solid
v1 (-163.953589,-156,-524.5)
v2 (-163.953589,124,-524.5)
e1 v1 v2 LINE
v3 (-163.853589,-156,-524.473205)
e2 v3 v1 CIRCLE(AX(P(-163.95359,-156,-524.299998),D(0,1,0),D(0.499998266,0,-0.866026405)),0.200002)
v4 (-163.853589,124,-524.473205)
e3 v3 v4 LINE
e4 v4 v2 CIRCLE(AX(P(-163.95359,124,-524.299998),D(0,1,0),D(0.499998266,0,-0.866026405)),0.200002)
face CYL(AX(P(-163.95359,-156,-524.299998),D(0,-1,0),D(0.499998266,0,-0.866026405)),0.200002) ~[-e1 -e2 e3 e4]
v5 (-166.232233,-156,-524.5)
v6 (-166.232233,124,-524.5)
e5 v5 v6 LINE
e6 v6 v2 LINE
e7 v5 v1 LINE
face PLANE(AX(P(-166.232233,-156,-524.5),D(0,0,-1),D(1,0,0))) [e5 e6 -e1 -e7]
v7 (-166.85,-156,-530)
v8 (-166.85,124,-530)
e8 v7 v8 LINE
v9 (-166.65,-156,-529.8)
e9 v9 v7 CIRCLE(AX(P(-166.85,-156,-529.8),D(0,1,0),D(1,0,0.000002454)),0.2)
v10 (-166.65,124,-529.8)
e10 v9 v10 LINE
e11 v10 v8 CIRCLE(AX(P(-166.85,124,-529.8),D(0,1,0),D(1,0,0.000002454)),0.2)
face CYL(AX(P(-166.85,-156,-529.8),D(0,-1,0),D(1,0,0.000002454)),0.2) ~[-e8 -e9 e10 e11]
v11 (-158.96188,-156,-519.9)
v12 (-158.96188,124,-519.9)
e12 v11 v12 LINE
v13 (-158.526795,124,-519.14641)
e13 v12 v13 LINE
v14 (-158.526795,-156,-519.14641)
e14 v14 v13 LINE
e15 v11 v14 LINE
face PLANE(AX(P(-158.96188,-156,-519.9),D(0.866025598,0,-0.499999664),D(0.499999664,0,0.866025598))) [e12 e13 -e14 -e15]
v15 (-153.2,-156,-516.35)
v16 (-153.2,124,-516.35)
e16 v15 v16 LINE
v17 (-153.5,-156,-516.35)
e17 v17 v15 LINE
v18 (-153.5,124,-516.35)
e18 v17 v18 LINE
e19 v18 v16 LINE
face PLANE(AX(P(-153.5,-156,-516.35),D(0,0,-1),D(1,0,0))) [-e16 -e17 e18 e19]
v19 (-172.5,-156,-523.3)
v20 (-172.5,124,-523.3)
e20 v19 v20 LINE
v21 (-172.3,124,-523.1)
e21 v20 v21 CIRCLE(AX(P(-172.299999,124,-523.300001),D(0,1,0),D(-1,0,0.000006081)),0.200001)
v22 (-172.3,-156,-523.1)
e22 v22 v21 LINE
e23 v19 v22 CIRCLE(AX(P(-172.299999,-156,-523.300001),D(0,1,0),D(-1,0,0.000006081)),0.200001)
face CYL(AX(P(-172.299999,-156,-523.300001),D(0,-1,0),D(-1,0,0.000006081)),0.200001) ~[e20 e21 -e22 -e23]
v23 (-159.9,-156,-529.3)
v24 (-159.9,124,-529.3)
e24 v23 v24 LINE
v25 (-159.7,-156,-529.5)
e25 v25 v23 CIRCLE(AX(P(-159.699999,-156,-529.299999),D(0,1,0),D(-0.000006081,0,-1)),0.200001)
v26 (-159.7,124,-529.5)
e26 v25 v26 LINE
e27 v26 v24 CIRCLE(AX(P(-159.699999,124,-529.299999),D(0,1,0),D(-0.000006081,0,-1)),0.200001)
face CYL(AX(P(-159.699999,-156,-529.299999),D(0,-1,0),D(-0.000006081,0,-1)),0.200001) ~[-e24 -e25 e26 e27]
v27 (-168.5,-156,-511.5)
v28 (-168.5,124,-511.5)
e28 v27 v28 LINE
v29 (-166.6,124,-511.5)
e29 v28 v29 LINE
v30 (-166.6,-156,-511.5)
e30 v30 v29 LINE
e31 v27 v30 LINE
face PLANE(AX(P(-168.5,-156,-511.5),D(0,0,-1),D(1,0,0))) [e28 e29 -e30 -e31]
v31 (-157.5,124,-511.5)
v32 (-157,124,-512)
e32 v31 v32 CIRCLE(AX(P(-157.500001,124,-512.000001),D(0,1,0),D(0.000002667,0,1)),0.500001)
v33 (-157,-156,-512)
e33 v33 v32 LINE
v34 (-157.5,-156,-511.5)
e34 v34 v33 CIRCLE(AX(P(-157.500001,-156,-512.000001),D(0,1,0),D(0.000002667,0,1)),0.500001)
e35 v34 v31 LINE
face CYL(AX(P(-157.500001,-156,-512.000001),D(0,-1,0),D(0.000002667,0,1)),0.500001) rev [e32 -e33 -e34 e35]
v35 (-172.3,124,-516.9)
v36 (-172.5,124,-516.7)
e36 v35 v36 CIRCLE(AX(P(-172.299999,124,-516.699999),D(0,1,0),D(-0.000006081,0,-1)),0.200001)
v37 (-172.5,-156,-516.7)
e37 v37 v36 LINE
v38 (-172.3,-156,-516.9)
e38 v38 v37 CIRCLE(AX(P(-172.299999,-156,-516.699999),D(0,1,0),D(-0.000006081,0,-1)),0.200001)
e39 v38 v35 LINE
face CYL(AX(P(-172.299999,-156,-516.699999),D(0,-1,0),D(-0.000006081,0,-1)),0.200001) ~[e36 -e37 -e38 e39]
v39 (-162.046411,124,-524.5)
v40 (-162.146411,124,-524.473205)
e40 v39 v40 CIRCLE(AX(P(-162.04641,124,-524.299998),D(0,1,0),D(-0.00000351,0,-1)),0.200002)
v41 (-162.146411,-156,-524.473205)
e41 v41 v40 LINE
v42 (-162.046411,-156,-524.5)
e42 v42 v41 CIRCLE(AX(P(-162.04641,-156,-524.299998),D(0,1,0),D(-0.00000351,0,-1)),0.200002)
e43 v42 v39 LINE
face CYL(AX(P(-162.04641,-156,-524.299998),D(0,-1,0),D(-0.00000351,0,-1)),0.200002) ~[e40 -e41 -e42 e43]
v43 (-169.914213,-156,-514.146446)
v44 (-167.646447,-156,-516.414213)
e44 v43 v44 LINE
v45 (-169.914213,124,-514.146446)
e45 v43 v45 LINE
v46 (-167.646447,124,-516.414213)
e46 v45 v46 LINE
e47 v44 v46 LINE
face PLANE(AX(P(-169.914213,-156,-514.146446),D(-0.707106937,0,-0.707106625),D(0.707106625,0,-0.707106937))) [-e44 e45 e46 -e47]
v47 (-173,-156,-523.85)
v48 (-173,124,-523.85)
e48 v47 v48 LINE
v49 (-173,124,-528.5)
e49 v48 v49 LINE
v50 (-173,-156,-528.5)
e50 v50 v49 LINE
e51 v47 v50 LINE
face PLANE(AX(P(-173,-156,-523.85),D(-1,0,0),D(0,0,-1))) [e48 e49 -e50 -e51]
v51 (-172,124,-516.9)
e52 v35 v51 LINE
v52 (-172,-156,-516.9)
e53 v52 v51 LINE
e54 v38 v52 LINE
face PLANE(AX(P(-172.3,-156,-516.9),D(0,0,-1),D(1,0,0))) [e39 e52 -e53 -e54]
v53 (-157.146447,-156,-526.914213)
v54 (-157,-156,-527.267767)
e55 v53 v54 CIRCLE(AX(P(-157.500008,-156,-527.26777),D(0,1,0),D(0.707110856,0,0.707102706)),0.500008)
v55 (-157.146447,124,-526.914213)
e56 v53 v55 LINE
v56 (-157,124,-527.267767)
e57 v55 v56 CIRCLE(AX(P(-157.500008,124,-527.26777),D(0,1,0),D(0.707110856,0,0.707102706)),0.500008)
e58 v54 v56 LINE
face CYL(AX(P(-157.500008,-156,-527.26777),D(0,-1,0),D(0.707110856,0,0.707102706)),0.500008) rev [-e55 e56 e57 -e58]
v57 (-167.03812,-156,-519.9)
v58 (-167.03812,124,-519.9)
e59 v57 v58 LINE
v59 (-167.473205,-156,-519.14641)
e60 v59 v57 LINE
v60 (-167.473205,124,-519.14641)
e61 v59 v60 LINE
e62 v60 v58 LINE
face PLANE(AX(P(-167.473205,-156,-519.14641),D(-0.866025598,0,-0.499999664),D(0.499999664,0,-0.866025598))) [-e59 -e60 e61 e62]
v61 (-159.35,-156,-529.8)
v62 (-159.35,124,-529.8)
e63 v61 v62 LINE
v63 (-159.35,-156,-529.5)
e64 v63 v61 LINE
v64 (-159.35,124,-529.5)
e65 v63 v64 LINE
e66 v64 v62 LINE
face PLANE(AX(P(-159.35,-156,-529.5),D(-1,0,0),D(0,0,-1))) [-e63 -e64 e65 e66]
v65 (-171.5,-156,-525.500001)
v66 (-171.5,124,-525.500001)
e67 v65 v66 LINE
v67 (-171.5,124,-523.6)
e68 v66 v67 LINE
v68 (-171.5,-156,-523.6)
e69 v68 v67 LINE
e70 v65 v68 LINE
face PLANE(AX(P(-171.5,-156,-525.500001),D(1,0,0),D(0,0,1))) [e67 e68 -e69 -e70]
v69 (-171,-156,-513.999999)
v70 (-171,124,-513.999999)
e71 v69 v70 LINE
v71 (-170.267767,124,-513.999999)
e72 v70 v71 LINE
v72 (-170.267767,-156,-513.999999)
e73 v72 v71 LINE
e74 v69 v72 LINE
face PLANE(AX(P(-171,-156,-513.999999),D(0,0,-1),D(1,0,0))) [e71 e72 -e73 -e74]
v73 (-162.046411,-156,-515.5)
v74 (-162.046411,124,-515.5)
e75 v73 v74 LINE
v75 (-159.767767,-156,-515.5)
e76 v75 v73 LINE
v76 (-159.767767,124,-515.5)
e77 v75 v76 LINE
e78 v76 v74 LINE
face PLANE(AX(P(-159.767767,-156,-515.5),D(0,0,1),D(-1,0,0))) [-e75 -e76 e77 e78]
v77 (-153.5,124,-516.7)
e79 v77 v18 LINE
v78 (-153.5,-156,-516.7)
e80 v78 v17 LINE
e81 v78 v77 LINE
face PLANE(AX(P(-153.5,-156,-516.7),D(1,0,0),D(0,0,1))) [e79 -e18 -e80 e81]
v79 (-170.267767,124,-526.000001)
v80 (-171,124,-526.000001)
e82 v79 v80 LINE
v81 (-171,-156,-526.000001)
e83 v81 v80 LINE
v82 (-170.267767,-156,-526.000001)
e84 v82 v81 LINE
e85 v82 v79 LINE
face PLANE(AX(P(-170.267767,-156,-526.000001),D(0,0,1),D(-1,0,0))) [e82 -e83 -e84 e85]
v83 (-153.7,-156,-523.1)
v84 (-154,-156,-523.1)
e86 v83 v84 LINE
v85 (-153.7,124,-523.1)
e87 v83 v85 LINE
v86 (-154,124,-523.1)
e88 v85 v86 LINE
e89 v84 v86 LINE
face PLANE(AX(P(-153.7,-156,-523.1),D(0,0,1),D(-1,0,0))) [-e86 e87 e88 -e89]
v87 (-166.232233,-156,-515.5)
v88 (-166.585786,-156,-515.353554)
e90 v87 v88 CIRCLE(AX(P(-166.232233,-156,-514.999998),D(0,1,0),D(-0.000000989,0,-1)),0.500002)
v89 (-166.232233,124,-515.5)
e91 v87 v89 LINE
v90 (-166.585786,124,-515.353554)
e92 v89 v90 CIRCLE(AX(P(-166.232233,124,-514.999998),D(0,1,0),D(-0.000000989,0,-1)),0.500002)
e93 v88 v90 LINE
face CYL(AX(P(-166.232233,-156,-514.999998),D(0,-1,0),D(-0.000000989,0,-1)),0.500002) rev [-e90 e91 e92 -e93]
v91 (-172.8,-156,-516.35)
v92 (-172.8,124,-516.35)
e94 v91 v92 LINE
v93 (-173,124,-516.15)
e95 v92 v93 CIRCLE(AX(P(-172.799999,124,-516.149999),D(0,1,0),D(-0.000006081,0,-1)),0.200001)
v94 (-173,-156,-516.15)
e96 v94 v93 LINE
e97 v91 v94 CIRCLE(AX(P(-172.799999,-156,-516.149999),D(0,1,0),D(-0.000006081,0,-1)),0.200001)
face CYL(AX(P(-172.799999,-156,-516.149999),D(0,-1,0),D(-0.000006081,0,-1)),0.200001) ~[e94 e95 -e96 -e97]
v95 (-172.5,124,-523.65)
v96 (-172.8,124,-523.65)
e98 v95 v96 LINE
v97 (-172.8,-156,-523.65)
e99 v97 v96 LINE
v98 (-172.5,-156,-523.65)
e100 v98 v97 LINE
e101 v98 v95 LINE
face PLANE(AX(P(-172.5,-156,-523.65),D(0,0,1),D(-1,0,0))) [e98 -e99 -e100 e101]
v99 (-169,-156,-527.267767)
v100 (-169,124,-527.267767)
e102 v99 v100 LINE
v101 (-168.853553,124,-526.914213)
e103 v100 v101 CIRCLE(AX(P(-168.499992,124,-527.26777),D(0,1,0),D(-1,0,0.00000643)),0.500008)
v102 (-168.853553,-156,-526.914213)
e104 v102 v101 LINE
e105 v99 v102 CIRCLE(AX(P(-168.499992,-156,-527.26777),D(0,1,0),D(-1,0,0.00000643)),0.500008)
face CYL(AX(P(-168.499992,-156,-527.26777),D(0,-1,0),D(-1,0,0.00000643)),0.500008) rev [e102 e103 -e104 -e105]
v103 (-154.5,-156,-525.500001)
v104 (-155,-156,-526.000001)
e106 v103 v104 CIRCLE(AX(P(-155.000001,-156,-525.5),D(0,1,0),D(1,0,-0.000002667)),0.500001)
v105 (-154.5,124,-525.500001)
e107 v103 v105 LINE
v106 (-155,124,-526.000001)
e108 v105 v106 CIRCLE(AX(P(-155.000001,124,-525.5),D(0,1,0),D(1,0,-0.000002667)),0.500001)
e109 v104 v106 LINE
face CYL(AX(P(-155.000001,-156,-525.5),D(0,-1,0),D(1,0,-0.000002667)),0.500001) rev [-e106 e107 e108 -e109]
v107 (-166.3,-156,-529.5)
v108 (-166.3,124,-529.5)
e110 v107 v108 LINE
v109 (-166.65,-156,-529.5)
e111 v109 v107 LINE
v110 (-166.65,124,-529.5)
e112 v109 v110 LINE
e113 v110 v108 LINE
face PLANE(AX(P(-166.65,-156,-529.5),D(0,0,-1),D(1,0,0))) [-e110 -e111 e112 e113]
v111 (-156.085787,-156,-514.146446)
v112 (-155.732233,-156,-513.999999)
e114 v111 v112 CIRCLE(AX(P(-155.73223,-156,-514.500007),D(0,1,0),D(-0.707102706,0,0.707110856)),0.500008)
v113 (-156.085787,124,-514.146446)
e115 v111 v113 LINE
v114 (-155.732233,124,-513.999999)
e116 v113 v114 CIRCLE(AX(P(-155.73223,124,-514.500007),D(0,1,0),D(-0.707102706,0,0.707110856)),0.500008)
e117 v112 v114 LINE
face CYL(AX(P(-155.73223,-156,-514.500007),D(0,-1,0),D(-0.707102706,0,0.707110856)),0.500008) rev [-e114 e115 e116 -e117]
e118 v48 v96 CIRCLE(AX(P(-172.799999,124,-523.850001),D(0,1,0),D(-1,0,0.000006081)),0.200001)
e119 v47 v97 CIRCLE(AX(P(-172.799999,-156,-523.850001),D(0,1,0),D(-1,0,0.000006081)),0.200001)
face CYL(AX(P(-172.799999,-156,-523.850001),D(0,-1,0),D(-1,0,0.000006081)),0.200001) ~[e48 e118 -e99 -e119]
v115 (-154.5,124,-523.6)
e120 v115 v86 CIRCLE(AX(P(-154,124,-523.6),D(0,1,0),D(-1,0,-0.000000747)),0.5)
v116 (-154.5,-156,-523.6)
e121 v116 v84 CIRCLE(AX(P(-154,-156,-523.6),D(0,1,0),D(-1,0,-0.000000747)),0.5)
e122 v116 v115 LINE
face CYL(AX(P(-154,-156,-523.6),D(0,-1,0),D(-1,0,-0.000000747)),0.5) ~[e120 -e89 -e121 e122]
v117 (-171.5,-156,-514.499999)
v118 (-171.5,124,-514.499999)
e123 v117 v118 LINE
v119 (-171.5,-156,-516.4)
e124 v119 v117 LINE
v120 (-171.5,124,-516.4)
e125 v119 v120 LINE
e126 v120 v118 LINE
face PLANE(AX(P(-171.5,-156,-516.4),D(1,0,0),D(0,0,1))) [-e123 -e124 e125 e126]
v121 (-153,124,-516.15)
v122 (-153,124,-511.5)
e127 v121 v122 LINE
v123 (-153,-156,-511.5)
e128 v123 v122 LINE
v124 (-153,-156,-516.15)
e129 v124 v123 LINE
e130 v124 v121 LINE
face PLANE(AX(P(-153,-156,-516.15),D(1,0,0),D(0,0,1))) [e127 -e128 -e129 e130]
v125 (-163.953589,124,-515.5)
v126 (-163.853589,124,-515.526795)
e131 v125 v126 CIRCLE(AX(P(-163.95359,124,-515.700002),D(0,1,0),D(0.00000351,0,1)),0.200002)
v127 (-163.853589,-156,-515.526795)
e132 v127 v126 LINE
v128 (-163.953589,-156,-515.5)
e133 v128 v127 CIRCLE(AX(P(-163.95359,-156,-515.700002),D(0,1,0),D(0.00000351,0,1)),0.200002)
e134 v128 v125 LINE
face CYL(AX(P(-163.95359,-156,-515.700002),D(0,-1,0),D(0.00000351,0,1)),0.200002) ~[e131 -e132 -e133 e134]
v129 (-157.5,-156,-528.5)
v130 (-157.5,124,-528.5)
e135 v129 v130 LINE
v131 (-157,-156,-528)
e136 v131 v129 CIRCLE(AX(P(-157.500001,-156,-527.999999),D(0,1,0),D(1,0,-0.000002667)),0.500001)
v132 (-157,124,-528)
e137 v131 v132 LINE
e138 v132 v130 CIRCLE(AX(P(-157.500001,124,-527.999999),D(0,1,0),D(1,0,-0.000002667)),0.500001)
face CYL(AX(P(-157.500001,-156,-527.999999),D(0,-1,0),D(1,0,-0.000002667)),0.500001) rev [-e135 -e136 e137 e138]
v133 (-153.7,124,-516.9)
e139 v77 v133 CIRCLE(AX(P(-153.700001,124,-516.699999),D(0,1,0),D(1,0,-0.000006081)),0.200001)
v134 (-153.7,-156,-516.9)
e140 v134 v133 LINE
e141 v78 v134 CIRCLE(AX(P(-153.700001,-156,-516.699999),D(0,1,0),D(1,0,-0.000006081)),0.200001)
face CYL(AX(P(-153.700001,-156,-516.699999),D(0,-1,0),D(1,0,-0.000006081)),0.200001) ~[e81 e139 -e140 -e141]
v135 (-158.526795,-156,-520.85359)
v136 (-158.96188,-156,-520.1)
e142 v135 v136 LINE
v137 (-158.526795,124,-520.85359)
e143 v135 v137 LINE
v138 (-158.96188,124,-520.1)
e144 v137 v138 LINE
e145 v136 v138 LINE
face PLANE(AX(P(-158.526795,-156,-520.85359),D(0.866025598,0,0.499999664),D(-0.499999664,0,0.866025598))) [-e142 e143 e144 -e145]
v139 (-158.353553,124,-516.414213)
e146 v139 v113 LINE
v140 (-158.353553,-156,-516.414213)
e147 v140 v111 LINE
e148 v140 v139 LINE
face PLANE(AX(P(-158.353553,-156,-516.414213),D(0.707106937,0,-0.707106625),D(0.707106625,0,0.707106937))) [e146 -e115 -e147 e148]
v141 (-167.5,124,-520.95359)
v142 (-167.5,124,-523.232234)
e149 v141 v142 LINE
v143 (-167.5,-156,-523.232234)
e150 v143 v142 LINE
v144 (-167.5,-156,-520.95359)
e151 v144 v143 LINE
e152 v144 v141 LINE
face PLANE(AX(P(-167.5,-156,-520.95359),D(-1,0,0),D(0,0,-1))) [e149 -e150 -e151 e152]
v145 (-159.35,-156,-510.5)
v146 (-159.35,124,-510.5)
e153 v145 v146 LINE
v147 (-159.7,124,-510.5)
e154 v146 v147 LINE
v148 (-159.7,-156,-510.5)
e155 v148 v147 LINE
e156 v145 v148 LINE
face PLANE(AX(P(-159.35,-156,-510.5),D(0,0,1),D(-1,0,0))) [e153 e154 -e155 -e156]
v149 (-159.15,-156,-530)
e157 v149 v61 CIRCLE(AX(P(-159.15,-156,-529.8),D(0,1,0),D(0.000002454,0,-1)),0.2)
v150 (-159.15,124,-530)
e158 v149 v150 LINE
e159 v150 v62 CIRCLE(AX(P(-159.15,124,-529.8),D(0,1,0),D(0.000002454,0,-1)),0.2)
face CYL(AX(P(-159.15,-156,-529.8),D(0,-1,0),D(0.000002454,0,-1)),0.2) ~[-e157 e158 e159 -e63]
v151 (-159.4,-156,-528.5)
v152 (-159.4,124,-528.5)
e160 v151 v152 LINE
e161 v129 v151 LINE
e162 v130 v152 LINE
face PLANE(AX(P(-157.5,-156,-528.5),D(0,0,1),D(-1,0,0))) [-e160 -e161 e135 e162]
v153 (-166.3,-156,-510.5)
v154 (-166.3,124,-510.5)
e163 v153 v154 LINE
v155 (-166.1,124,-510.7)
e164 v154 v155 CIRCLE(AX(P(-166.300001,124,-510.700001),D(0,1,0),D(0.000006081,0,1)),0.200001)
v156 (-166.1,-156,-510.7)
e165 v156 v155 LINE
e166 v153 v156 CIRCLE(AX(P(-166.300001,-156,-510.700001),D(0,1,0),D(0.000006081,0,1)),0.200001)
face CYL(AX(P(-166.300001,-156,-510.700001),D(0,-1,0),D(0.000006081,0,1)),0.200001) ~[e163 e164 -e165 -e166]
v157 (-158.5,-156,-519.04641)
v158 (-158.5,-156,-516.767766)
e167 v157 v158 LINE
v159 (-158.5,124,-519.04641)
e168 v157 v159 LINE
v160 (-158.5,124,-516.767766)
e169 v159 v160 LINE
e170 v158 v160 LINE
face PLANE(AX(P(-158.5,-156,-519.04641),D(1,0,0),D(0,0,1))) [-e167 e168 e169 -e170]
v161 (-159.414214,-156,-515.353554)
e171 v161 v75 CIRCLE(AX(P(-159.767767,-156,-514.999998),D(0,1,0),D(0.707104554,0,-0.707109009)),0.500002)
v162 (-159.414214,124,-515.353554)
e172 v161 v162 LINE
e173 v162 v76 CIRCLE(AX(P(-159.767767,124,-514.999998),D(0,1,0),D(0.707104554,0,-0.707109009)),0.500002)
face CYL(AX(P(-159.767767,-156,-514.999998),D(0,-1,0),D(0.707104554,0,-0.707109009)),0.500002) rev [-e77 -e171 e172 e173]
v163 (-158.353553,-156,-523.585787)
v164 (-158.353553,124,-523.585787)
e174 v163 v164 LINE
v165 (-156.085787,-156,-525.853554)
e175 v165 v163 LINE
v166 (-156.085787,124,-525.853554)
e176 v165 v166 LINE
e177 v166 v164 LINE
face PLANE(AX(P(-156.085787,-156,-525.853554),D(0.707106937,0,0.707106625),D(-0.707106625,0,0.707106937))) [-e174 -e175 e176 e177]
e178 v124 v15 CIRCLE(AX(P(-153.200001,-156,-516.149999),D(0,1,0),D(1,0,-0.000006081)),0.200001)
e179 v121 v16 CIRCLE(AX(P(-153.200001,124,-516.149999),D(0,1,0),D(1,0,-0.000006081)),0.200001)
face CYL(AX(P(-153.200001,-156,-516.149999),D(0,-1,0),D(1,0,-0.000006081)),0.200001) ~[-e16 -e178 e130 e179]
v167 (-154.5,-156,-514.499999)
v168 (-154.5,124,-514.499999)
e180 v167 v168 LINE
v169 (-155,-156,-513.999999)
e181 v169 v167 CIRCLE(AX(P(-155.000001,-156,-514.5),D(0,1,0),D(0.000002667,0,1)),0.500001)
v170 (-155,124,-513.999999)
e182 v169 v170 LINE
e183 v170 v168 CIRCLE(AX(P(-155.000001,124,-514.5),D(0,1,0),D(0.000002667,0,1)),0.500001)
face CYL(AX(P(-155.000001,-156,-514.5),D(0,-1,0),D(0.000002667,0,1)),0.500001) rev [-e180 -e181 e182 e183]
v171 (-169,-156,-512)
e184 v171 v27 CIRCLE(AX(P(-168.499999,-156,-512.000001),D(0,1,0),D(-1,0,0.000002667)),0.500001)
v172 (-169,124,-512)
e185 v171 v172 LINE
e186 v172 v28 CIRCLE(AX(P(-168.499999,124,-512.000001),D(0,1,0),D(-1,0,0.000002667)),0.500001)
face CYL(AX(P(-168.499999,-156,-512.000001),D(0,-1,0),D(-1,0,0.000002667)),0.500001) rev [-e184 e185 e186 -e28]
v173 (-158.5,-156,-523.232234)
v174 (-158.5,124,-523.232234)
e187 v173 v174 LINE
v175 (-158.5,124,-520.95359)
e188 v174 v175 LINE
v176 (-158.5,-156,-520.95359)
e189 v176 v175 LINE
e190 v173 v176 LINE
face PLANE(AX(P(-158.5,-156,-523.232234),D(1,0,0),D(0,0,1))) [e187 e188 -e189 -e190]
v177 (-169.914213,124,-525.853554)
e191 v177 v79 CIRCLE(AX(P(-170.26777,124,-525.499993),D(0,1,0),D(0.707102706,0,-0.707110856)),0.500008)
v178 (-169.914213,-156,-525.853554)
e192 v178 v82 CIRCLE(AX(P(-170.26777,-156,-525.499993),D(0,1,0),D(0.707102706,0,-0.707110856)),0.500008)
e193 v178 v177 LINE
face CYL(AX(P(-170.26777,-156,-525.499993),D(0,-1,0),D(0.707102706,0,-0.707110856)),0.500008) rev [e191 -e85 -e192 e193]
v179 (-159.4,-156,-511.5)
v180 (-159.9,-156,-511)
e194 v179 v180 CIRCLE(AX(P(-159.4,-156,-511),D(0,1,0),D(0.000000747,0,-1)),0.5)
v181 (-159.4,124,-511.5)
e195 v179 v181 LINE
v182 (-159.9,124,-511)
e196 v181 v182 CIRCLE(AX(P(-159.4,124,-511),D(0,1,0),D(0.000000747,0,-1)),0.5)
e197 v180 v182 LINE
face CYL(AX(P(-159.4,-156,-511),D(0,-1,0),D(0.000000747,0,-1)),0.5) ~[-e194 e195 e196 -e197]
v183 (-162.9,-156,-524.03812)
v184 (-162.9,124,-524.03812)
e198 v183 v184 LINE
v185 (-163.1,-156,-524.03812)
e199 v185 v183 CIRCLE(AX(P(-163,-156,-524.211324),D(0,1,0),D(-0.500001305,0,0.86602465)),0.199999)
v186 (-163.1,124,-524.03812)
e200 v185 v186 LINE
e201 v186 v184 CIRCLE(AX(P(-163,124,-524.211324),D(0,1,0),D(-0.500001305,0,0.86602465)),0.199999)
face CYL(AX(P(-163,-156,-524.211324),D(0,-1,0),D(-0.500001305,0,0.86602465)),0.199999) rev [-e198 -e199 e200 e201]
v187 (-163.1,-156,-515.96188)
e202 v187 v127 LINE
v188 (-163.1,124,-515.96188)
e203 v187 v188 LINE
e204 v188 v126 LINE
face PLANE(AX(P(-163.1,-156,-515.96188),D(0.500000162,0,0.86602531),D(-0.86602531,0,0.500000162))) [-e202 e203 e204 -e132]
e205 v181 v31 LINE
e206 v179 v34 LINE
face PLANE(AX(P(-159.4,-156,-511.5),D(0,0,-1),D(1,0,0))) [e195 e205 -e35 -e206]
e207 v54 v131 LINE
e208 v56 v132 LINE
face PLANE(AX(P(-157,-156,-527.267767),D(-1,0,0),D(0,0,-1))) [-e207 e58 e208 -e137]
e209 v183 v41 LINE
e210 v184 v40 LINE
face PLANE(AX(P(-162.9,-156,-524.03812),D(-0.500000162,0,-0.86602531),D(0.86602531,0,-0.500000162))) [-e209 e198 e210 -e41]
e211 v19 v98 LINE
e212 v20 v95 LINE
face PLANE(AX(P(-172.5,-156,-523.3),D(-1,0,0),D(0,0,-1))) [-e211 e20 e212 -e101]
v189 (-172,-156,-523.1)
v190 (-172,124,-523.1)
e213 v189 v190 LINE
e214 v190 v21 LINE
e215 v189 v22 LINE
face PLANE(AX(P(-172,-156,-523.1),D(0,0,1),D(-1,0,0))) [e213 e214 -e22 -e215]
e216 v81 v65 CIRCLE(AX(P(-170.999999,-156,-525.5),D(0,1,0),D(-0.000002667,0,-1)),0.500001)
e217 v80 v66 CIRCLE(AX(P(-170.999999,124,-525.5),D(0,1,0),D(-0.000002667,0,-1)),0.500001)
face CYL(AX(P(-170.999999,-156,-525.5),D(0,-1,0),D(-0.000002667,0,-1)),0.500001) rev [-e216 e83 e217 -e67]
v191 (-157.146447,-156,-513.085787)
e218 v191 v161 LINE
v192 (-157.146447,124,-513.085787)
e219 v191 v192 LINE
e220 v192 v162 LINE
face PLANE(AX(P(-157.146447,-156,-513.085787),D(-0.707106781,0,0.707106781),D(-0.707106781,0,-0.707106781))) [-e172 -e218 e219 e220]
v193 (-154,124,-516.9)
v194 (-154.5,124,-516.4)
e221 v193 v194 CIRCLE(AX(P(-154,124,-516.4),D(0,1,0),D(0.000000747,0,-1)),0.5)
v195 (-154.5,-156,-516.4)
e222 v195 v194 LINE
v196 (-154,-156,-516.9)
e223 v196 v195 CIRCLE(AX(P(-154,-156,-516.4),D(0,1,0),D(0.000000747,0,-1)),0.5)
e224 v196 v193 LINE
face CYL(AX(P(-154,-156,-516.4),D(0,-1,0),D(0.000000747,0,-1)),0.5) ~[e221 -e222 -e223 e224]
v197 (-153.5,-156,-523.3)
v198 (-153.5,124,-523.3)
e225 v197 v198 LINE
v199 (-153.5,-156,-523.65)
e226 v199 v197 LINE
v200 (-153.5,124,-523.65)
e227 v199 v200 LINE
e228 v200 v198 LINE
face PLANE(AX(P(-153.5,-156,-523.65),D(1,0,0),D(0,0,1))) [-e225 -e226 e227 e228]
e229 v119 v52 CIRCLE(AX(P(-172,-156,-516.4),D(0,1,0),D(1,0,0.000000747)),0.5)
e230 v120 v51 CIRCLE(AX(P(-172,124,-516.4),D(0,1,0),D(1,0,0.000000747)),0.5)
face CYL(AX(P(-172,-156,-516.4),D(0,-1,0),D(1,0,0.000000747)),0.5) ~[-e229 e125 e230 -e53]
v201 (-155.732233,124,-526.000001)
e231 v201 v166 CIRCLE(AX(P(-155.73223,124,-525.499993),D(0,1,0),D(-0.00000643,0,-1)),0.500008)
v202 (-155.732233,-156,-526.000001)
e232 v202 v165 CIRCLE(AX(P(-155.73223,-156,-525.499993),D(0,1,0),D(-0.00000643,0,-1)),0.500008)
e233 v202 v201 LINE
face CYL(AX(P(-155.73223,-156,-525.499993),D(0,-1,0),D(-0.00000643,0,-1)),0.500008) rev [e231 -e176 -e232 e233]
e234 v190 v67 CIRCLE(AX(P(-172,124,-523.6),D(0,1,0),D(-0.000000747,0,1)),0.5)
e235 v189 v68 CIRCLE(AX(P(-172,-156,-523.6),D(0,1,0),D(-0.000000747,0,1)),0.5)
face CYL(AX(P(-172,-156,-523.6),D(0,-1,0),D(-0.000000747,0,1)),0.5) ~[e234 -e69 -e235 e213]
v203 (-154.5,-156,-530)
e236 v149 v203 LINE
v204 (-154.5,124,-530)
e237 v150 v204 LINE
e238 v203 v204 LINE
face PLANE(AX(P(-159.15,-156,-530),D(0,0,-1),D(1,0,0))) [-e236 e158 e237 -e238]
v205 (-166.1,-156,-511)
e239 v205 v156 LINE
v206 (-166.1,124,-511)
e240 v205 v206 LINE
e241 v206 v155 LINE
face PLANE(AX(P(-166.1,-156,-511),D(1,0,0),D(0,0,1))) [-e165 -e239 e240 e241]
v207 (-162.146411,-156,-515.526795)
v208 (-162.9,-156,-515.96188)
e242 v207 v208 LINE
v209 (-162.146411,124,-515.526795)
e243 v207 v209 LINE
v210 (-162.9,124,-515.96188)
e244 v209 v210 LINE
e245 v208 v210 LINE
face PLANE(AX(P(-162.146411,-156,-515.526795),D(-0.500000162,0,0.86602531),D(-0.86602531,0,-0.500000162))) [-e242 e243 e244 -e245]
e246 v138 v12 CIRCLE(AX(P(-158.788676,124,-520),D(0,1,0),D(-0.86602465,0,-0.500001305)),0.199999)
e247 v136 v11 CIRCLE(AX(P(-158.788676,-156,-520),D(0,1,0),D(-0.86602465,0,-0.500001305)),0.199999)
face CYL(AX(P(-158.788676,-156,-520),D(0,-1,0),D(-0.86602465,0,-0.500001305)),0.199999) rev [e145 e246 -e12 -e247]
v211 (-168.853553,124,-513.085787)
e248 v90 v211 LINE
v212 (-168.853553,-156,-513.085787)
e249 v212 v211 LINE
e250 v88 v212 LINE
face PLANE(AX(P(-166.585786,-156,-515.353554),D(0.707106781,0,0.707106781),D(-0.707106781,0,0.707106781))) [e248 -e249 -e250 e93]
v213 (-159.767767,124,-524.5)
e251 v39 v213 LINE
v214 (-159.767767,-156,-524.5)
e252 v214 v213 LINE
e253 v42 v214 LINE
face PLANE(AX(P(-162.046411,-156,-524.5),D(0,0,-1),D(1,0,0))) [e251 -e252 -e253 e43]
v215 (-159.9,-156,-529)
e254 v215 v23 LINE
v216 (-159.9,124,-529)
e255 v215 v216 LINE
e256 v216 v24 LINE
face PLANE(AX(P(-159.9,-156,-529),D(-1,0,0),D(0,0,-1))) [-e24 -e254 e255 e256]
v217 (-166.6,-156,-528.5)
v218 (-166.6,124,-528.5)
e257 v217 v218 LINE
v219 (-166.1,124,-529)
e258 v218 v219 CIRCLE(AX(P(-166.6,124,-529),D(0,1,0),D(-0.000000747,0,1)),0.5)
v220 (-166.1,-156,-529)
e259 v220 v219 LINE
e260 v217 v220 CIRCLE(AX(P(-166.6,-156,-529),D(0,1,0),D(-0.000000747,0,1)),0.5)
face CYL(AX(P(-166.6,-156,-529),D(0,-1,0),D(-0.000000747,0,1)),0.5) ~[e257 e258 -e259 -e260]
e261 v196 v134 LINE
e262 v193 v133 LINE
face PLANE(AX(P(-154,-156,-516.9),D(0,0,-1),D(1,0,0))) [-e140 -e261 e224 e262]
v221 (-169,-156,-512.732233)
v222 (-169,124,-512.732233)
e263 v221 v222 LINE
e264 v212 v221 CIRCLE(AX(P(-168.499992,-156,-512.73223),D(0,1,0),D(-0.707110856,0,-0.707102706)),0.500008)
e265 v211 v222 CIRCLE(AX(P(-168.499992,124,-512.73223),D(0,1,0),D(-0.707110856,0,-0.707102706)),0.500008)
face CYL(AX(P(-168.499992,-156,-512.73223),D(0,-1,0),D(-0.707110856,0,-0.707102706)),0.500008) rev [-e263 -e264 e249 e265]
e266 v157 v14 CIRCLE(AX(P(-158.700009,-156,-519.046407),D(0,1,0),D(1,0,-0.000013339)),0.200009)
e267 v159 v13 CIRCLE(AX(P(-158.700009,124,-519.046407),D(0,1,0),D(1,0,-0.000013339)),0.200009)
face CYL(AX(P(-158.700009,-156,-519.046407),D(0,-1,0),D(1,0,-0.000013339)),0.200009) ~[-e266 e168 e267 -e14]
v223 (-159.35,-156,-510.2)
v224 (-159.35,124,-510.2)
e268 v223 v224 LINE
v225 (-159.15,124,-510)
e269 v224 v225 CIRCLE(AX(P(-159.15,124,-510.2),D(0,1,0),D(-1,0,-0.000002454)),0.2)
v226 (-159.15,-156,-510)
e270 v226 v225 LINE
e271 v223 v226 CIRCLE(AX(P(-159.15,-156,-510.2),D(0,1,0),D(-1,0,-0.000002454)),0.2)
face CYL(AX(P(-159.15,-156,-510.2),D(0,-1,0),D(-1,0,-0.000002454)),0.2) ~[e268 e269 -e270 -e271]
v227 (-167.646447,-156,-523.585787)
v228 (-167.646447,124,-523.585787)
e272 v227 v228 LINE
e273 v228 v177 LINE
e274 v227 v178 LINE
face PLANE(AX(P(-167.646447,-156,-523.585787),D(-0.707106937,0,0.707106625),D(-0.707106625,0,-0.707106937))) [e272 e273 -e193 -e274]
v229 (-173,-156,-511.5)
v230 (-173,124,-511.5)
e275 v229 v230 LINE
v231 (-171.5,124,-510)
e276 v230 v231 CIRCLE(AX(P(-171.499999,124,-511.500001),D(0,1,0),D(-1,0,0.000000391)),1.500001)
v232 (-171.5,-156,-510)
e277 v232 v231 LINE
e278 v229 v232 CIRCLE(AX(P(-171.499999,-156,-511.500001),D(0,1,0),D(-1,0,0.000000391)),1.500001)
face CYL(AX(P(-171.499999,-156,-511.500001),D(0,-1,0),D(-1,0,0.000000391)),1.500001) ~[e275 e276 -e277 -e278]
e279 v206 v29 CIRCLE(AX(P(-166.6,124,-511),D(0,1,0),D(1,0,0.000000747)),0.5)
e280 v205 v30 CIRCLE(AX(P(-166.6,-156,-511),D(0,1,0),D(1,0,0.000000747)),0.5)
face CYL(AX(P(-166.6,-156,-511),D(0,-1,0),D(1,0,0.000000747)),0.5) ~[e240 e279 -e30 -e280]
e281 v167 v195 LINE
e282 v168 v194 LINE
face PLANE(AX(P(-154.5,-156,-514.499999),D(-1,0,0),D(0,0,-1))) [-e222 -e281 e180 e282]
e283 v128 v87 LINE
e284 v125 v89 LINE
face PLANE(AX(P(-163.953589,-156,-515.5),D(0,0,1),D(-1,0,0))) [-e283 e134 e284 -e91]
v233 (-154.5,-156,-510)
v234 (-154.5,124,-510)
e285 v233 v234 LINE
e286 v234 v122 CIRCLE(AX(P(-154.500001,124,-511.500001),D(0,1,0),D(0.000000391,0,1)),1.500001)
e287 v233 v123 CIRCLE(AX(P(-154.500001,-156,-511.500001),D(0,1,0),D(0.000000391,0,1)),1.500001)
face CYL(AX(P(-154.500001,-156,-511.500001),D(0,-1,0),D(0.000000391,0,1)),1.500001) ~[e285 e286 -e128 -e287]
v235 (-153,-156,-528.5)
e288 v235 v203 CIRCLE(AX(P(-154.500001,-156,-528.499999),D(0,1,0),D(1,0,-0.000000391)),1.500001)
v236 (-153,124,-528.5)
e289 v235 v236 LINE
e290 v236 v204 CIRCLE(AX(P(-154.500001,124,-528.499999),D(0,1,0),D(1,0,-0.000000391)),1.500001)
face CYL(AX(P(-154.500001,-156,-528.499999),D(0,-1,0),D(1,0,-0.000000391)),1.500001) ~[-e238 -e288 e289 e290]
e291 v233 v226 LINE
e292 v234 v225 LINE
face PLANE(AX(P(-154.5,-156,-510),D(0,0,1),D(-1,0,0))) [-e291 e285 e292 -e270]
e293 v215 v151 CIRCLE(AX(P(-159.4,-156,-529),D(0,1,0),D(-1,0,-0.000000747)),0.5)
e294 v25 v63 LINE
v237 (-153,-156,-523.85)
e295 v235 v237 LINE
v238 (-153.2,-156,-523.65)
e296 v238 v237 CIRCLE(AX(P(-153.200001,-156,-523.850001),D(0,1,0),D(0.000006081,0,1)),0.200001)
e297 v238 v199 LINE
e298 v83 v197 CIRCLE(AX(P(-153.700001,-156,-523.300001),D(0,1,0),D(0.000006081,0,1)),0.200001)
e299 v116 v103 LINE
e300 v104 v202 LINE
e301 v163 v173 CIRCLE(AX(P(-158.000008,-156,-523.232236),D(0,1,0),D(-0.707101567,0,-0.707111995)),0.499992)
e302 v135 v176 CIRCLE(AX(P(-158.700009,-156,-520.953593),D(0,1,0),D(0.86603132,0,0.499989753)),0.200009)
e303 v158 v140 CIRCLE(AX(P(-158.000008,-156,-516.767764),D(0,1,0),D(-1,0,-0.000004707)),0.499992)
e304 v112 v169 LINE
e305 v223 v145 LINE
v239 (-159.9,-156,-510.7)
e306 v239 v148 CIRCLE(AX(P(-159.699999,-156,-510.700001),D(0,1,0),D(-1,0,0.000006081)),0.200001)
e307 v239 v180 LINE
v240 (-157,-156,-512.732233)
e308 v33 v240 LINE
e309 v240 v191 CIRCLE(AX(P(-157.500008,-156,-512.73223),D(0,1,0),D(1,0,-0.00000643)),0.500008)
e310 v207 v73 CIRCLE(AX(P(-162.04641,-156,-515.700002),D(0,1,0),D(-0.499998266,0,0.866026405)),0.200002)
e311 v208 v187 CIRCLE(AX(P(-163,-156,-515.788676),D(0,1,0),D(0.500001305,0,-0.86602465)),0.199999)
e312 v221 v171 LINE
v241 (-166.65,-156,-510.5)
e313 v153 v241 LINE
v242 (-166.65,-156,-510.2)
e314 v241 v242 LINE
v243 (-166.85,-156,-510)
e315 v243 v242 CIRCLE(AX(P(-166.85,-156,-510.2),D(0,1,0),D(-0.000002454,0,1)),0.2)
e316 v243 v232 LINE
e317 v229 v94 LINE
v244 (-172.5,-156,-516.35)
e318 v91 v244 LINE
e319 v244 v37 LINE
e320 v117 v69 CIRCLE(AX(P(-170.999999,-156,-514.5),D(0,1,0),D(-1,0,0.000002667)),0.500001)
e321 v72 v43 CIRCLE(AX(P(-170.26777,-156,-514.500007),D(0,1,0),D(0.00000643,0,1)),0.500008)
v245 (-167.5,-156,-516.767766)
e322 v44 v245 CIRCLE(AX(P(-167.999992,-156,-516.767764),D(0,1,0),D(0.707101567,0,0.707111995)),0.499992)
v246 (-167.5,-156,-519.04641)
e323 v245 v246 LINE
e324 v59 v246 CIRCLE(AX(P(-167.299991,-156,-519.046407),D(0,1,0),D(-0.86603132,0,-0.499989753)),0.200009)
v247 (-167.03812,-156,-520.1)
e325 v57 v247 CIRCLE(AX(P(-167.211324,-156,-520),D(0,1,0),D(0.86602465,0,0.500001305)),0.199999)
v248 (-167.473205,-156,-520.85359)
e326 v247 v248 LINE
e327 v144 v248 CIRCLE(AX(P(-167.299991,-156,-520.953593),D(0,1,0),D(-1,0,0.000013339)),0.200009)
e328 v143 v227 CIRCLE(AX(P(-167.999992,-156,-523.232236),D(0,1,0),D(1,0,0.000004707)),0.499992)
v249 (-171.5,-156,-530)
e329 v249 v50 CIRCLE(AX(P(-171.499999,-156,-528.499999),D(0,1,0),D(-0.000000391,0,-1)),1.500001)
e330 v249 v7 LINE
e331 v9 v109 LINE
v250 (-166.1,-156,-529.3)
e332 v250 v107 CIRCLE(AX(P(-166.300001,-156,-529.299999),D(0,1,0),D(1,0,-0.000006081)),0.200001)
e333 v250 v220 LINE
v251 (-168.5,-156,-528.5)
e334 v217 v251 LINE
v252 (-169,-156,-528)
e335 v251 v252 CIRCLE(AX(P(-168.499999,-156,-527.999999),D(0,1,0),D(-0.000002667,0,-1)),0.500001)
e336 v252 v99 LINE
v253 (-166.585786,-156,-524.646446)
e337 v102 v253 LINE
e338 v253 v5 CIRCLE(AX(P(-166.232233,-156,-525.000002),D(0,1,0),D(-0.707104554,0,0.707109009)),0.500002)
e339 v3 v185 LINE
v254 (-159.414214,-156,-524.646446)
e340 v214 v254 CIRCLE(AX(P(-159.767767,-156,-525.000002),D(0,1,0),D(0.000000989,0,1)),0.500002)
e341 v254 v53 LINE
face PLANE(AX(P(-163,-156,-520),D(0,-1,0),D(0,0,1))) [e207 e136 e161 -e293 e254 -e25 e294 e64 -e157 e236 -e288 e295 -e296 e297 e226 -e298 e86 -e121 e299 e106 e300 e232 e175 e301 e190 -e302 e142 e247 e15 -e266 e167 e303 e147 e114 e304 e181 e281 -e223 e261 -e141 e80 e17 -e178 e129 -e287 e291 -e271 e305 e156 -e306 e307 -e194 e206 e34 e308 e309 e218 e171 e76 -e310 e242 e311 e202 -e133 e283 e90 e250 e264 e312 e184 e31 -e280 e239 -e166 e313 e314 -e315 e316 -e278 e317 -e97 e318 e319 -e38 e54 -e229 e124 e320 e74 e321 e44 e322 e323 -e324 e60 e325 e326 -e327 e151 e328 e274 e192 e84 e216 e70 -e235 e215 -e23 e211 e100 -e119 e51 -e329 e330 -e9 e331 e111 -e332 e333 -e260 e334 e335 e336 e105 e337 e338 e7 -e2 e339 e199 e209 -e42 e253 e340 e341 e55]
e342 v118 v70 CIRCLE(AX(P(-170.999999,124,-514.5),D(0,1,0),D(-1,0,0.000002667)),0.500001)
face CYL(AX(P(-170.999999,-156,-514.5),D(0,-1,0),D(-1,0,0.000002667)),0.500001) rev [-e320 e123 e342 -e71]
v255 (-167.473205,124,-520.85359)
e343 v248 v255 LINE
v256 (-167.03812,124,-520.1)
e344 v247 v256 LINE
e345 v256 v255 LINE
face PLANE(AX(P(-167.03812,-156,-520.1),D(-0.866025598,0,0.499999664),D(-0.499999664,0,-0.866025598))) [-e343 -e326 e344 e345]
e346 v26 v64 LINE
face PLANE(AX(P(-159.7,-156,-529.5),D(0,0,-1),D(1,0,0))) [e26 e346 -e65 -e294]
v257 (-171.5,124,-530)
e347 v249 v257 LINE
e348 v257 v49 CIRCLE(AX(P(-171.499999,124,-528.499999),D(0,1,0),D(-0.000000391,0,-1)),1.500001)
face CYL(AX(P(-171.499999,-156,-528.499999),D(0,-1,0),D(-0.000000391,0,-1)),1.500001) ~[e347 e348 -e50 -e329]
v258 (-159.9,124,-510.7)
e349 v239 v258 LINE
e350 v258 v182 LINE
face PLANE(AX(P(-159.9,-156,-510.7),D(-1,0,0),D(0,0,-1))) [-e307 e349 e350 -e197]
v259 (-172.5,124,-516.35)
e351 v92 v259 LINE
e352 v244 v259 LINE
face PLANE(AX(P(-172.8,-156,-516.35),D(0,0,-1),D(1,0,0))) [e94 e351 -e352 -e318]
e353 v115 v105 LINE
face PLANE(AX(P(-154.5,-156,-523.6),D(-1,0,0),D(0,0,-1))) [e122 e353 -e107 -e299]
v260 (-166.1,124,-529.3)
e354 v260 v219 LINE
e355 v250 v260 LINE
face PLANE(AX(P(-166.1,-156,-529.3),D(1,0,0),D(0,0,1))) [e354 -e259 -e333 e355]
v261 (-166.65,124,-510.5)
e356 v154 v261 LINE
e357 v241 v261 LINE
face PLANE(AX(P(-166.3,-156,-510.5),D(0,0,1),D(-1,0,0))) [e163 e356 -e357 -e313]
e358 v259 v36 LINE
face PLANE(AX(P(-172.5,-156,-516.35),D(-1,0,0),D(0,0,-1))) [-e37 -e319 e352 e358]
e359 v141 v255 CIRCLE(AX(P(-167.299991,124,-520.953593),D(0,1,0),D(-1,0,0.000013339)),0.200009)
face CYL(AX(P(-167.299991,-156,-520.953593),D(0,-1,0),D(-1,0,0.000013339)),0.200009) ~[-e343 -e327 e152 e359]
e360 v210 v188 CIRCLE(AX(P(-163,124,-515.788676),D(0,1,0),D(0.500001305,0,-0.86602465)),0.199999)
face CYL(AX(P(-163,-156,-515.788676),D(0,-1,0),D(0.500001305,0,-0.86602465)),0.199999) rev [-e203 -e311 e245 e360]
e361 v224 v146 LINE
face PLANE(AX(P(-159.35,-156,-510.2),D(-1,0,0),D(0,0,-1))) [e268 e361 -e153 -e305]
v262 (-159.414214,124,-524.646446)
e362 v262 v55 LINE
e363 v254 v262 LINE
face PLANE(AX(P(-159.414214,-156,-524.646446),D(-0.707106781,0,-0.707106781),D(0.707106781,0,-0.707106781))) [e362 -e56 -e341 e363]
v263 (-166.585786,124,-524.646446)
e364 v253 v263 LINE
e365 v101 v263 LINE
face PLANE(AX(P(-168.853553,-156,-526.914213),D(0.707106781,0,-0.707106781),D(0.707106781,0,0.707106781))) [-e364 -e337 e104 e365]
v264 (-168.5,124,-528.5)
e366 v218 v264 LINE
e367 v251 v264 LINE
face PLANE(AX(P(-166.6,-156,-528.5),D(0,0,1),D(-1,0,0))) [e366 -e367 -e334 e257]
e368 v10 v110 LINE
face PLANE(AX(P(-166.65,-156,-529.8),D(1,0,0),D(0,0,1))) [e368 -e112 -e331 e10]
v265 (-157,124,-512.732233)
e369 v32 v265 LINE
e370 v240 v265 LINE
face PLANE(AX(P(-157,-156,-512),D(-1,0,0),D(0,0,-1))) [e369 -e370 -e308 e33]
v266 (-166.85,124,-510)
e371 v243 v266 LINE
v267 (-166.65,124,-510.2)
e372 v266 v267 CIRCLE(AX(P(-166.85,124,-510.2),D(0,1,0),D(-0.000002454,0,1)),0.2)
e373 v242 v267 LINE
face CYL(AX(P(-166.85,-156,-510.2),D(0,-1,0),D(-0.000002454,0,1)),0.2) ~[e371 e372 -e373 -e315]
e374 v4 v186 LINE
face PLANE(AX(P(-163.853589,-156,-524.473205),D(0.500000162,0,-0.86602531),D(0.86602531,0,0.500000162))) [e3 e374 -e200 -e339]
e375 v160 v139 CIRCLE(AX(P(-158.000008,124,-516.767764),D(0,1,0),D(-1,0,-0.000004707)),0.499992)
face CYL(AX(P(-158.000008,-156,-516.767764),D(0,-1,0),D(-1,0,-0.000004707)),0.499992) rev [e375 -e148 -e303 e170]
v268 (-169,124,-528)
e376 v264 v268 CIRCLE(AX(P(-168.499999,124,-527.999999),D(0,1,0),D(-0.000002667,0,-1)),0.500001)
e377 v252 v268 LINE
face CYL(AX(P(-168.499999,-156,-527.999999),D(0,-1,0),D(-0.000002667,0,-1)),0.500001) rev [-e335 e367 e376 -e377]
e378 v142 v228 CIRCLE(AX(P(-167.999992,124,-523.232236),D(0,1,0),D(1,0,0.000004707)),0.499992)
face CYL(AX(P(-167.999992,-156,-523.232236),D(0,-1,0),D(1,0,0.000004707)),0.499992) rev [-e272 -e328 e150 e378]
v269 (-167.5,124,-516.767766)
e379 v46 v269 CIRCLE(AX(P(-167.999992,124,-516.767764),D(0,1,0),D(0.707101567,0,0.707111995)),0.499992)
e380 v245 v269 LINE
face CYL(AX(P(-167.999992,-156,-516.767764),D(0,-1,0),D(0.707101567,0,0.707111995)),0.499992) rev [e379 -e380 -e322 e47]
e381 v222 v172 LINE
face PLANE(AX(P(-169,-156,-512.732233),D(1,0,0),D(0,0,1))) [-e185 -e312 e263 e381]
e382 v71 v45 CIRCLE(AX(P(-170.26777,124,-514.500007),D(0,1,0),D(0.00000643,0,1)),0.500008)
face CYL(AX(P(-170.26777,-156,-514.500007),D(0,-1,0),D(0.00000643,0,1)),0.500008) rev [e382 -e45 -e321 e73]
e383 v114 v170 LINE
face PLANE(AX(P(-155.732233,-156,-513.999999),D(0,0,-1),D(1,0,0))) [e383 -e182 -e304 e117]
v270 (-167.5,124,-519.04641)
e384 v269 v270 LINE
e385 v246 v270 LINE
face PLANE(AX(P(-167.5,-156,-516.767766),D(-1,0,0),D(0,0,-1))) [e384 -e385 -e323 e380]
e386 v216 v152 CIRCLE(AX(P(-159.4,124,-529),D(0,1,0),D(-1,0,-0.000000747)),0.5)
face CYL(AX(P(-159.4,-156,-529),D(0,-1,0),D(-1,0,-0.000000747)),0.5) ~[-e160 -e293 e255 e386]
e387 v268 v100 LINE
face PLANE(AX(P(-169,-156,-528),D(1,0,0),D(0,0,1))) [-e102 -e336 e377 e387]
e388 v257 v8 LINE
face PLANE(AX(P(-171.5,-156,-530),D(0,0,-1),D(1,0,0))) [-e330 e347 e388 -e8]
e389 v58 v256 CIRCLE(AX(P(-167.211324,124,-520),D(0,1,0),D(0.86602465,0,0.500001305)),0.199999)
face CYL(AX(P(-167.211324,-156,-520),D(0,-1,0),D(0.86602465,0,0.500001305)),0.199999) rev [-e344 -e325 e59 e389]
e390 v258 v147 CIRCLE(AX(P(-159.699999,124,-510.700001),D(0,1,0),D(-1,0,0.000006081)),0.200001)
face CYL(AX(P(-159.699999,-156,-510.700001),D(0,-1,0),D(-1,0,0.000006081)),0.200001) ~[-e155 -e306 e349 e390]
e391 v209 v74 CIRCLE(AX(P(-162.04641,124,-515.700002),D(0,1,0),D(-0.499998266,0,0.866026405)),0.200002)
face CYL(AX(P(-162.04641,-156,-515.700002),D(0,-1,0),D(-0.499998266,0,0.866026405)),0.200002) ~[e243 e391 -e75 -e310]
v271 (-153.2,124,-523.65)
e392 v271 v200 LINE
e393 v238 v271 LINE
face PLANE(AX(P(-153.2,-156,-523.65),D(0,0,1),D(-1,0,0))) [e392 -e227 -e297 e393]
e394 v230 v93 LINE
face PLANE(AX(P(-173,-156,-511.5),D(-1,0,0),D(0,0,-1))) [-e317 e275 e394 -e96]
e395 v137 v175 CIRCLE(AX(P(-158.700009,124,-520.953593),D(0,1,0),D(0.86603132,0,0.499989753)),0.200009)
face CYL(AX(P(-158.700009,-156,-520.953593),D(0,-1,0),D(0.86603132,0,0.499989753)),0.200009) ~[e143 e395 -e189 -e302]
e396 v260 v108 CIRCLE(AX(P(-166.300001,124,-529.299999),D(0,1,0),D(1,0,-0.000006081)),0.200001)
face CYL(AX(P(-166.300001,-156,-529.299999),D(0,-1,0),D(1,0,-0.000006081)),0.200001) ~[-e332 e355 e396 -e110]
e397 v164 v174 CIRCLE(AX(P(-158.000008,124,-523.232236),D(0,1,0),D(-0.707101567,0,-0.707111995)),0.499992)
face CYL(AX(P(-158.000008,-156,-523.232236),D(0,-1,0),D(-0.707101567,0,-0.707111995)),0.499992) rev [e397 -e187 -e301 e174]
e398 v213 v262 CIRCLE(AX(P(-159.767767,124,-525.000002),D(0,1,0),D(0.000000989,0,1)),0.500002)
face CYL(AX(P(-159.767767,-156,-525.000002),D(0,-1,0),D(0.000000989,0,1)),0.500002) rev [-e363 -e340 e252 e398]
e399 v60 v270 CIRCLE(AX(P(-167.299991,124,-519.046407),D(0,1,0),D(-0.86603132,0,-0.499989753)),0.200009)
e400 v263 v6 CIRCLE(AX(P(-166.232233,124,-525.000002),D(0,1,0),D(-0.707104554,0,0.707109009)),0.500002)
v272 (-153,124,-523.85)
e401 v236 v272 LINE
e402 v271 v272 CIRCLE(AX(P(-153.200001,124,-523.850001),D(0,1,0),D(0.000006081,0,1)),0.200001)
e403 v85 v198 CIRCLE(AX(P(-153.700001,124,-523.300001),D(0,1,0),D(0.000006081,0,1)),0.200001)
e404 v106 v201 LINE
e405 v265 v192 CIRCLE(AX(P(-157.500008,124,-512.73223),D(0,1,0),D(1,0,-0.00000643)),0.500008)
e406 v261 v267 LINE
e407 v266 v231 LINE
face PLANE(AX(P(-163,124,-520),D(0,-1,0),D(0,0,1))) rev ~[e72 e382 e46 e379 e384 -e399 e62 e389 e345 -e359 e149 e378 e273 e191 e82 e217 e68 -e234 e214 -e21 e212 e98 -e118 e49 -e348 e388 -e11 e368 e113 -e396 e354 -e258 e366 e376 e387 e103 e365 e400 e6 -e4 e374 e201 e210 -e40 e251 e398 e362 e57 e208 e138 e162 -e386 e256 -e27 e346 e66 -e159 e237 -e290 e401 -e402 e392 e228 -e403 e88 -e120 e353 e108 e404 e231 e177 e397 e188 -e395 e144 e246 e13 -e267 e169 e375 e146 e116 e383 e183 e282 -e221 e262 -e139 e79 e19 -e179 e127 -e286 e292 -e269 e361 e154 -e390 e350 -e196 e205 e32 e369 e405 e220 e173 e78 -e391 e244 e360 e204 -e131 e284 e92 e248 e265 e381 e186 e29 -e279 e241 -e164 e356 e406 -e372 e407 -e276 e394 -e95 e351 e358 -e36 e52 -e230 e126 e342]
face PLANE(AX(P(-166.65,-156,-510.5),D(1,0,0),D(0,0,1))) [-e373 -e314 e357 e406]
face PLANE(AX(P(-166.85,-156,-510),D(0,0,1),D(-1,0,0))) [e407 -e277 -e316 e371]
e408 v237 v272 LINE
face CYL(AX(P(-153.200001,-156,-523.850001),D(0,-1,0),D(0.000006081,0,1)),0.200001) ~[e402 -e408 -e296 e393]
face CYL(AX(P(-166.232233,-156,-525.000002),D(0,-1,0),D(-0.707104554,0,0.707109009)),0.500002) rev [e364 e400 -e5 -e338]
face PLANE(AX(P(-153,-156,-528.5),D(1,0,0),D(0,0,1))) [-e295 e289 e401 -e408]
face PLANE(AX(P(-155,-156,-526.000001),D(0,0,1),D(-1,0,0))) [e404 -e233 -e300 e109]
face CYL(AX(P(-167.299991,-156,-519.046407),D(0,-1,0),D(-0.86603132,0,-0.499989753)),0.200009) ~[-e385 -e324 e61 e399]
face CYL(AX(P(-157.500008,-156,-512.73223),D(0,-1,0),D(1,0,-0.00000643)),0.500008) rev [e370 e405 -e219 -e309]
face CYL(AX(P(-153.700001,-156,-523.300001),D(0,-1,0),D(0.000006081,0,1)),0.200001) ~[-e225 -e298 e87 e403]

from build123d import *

# Parameters (mm, degrees)
PAD009_DEPTH    = 280
POCKET021_DEPTH = 280.001


with BuildPart() as pad009:
    # Sketch019 → Pad009 (new body)
    with BuildSketch(Plane(origin=(0, 0, -1.5), x_dir=(0, 0, -1), z_dir=(0, 1, 0))):
        with BuildLine():
            Line((0, 20), (4.65, 20))
            ThreePointArc((4.85, 19.8), (4.791421, 19.941421), (4.65, 20))
            Line((4.85, 19.8), (4.85, 19.5))
            Line((4.85, 19.5), (5.2, 19.5))
            ThreePointArc((5.4, 19.3), (5.341421, 19.441421), (5.2, 19.5))
            Line((5.4, 19.3), (5.4, 19))
            ThreePointArc((4.9, 18.5), (5.253553, 18.646446), (5.4, 19))
            Line((4.9, 18.5), (2.999999, 18.5))
            ThreePointArc((2.999999, 18.5), (2.646446, 18.353553), (2.499999, 18))
            Line((2.499999, 18), (2.499999, 17.267767))
            ThreePointArc((2.499999, 17.267767), (2.53806, 17.076425), (2.646446, 16.914213))
            Line((2.646446, 16.914213), (4.914213, 14.646447))
            ThreePointArc((4.914213, 14.646447), (5.076424, 14.53806), (5.267766, 14.5))
            Line((5.267766, 14.5), (7.54641, 14.5))
            ThreePointArc((7.64641, 14.473205), (7.598173, 14.493185), (7.54641, 14.5))
            Line((7.64641, 14.473205), (8.4, 14.03812))
            ThreePointArc((8.4, 14.03812), (8.5, 14.011325), (8.6, 14.03812))
            Line((8.6, 14.03812), (9.35359, 14.473205))
            ThreePointArc((9.45359, 14.5), (9.401827, 14.493185), (9.35359, 14.473205))
            Line((9.45359, 14.5), (11.732234, 14.5))
            ThreePointArc((11.732234, 14.5), (11.923576, 14.53806), (12.085787, 14.646447))
            Line((12.085787, 14.646447), (14.353554, 16.914213))
            ThreePointArc((14.353554, 16.914213), (14.46194, 17.076425), (14.500001, 17.267767))
            Line((14.500001, 17.267767), (14.500001, 18))
            ThreePointArc((14.500001, 18), (14.353554, 18.353553), (14.000001, 18.5))
            Line((14.000001, 18.5), (12.1, 18.5))
            ThreePointArc((11.6, 19), (11.746447, 18.646446), (12.1, 18.5))
            Line((11.6, 19), (11.6, 19.3))
            ThreePointArc((11.8, 19.5), (11.658579, 19.441421), (11.6, 19.3))
            Line((11.8, 19.5), (12.15, 19.5))
            Line((12.15, 19.5), (12.15, 19.8))
            ThreePointArc((12.35, 20), (12.208579, 19.941421), (12.15, 19.8))
            Line((12.35, 20), (17, 20))
            ThreePointArc((18.5, 18.5), (18.06066, 19.56066), (17, 20))
            Line((18.5, 18.5), (18.5, 13.85))
            ThreePointArc((18.3, 13.65), (18.441421, 13.708578), (18.5, 13.85))
            Line((18.3, 13.65), (18, 13.65))
            Line((18, 13.65), (18, 13.3))
            ThreePointArc((17.8, 13.1), (17.941421, 13.158579), (18, 13.3))
            Line((17.8, 13.1), (17.5, 13.1))
            ThreePointArc((17, 13.6), (17.146446, 13.246447), (17.5, 13.1))
            Line((17, 13.6), (17, 15.5))
            ThreePointArc((17, 15.5), (16.853553, 15.853553), (16.5, 16))
            Line((16.5, 16), (15.767767, 16))
            ThreePointArc((15.767767, 16), (15.576425, 15.961939), (15.414213, 15.853553))
            Line((15.414213, 15.853553), (13.146446, 13.585786))
            ThreePointArc((13.146446, 13.585786), (13.03806, 13.423574), (13, 13.232233))
            Line((13, 13.232233), (13, 10.953589))
            ThreePointArc((12.973205, 10.853589), (12.993185, 10.901825), (13, 10.953589))
            Line((12.973205, 10.853589), (12.53812, 10.1))
            ThreePointArc((12.53812, 10.1), (12.511325, 10), (12.53812, 9.9))
            Line((12.53812, 9.9), (12.973205, 9.146411))
            ThreePointArc((13, 9.046411), (12.993185, 9.098175), (12.973205, 9.146411))
            Line((13, 9.046411), (13, 6.767767))
            ThreePointArc((13, 6.767767), (13.03806, 6.576426), (13.146446, 6.414214))
            Line((13.146446, 6.414214), (15.414213, 4.146447))
            ThreePointArc((15.414213, 4.146447), (15.576425, 4.038061), (15.767767, 4))
            Line((15.767767, 4), (16.5, 4))
            ThreePointArc((16.5, 4), (16.853553, 4.146447), (17, 4.5))
            Line((17, 4.5), (17, 6.4))
            ThreePointArc((17.5, 6.9), (17.146446, 6.753553), (17, 6.4))
            Line((17.5, 6.9), (17.8, 6.9))
            ThreePointArc((18, 6.7), (17.941421, 6.841421), (17.8, 6.9))
            Line((18, 6.7), (18, 6.35))
            Line((18, 6.35), (18.3, 6.35))
            ThreePointArc((18.5, 6.15), (18.441421, 6.291422), (18.3, 6.35))
            Line((18.5, 6.15), (18.5, 1.5))
            ThreePointArc((17, 0), (18.06066, 0.43934), (18.5, 1.5))
            Line((17, 0), (12.35, 0))
            ThreePointArc((12.15, 0.2), (12.208579, 0.058579), (12.35, 0))
            Line((12.15, 0.2), (12.15, 0.5))
            Line((12.15, 0.5), (11.8, 0.5))
            ThreePointArc((11.6, 0.7), (11.658579, 0.558579), (11.8, 0.5))
            Line((11.6, 0.7), (11.6, 1))
            ThreePointArc((12.1, 1.5), (11.746447, 1.353554), (11.6, 1))
            Line((12.1, 1.5), (14.000001, 1.5))
            ThreePointArc((14.000001, 1.5), (14.353554, 1.646447), (14.500001, 2))
            Line((14.500001, 2), (14.500001, 2.732233))
            ThreePointArc((14.500001, 2.732233), (14.46194, 2.923575), (14.353554, 3.085787))
            Line((14.353554, 3.085787), (12.085787, 5.353553))
            ThreePointArc((12.085787, 5.353553), (11.923576, 5.46194), (11.732234, 5.5))
            Line((11.732234, 5.5), (9.45359, 5.5))
            ThreePointArc((9.35359, 5.526795), (9.401827, 5.506815), (9.45359, 5.5))
            Line((9.35359, 5.526795), (8.6, 5.96188))
            ThreePointArc((8.6, 5.96188), (8.5, 5.988675), (8.4, 5.96188))
            Line((8.4, 5.96188), (7.64641, 5.526795))
            ThreePointArc((7.54641, 5.5), (7.598173, 5.506815), (7.64641, 5.526795))
            Line((7.54641, 5.5), (5.267766, 5.5))
            ThreePointArc((5.267766, 5.5), (5.076424, 5.46194), (4.914213, 5.353553))
            Line((4.914213, 5.353553), (2.646446, 3.085787))
            ThreePointArc((2.646446, 3.085787), (2.53806, 2.923575), (2.499999, 2.732233))
            Line((2.499999, 2.732233), (2.499999, 2))
            ThreePointArc((2.499999, 2), (2.646446, 1.646447), (2.999999, 1.5))
            Line((2.999999, 1.5), (4.9, 1.5))
            ThreePointArc((5.4, 1), (5.253553, 1.353554), (4.9, 1.5))
            Line((5.4, 1), (5.4, 0.7))
            ThreePointArc((5.2, 0.5), (5.341421, 0.558579), (5.4, 0.7))
            Line((5.2, 0.5), (4.85, 0.5))
            Line((4.85, 0.5), (4.85, 0.2))
            ThreePointArc((4.65, 0), (4.791421, 0.058579), (4.85, 0.2))
            Line((4.65, 0), (0, 0))
            ThreePointArc((-1.5, 1.5), (-1.06066, 0.43934), (0, 0))
            Line((-1.5, 1.5), (-1.5, 6.15))
            ThreePointArc((-1.3, 6.35), (-1.441421, 6.291422), (-1.5, 6.15))
            Line((-1.3, 6.35), (-1, 6.35))
            Line((-1, 6.35), (-1, 6.7))
            ThreePointArc((-0.8, 6.9), (-0.941421, 6.841421), (-1, 6.7))
            Line((-0.8, 6.9), (-0.5, 6.9))
            ThreePointArc((0, 6.4), (-0.146446, 6.753553), (-0.5, 6.9))
            Line((0, 6.4), (0, 4.5))
            ThreePointArc((0, 4.5), (0.146447, 4.146447), (0.5, 4))
            Line((0.5, 4), (1.232233, 4))
            ThreePointArc((1.232233, 4), (1.423575, 4.038061), (1.585787, 4.146447))
            Line((1.585787, 4.146447), (3.853554, 6.414214))
            ThreePointArc((3.853554, 6.414214), (3.96194, 6.576426), (4, 6.767767))
            Line((4, 6.767767), (4, 9.046411))
            ThreePointArc((4.026795, 9.146411), (4.006815, 9.098175), (4, 9.046411))
            Line((4.026795, 9.146411), (4.46188, 9.9))
            ThreePointArc((4.46188, 9.9), (4.488675, 10), (4.46188, 10.1))
            Line((4.46188, 10.1), (4.026795, 10.853589))
            ThreePointArc((4, 10.953589), (4.006815, 10.901825), (4.026795, 10.853589))
            Line((4, 10.953589), (4, 13.232233))
            ThreePointArc((4, 13.232233), (3.96194, 13.423574), (3.853554, 13.585786))
            Line((3.853554, 13.585786), (1.585787, 15.853553))
            ThreePointArc((1.585787, 15.853553), (1.423575, 15.961939), (1.232233, 16))
            Line((1.232233, 16), (0.5, 16))
            ThreePointArc((0.5, 16), (0.146447, 15.853553), (0, 15.5))
            Line((0, 15.5), (0, 13.6))
            ThreePointArc((-0.5, 13.1), (-0.146446, 13.246447), (0, 13.6))
            Line((-0.5, 13.1), (-0.8, 13.1))
            ThreePointArc((-1, 13.3), (-0.941421, 13.158579), (-0.8, 13.1))
            Line((-1, 13.3), (-1, 13.65))
            Line((-1, 13.65), (-1.3, 13.65))
            ThreePointArc((-1.5, 13.85), (-1.441421, 13.708578), (-1.3, 13.65))
            Line((-1.5, 13.85), (-1.5, 18.5))
            ThreePointArc((0, 20), (-1.06066, 19.56066), (-1.5, 18.5))
        make_face()
    extrude(amount=PAD009_DEPTH)


with BuildPart() as perfil_horizontal_eje_y_derecho_inferior:
    # Pocket021 base: copy of Pad009
    add(pad009.part)

    # Sketch020 → Pocket021 (cut, through all)
    with BuildSketch(Plane(origin=(0, 280, -1.5), x_dir=(0, 0, -1), z_dir=(0, 1, 0))):
        with BuildLine():
            ThreePointArc((6.586105, 12.989641), (5.988263, 12.50841), (5.507825, 11.909931))
            Line((6.054705, 11.258185), (5.507825, 11.909931))
            ThreePointArc((6.054705, 11.258185), (5.75, 10), (6.054705, 8.741815))
            Line((5.507825, 8.090069), (6.054705, 8.741815))
            ThreePointArc((5.507825, 8.090069), (5.988263, 7.49159), (6.586105, 7.010359))
            Line((7.241815, 7.554705), (6.586105, 7.010359))
            ThreePointArc((7.241815, 7.554705), (8.5, 7.25), (9.758185, 7.554705))
            Line((10.413895, 7.010359), (9.758185, 7.554705))
            ThreePointArc((10.413895, 7.010359), (11.011737, 7.49159), (11.492175, 8.090069))
            Line((10.945295, 8.741815), (11.492175, 8.090069))
            ThreePointArc((10.945295, 8.741815), (11.25, 10), (10.945295, 11.258185))
            Line((11.492175, 11.909931), (10.945295, 11.258185))
            ThreePointArc((11.492175, 11.909931), (11.011737, 12.50841), (10.413895, 12.989641))
            Line((9.758185, 12.445295), (10.413895, 12.989641))
            ThreePointArc((9.758185, 12.445295), (8.5, 12.75), (7.241815, 12.445295))
            Line((6.586105, 12.989641), (7.241815, 12.445295))
        make_face()
    extrude(amount=-POCKET021_DEPTH, mode=Mode.SUBTRACT)

    # Fusion011: union Pad009
    add(pad009.part)


with BuildPart() as perfil_horizontal_eje_y_derecho_inferior_1:
    # Fusion011 placement: moved
    add(perfil_horizontal_eje_y_derecho_inferior.part.moved(Location((-153, -156, -510))))


solid = perfil_horizontal_eje_y_derecho_inferior_1.part
